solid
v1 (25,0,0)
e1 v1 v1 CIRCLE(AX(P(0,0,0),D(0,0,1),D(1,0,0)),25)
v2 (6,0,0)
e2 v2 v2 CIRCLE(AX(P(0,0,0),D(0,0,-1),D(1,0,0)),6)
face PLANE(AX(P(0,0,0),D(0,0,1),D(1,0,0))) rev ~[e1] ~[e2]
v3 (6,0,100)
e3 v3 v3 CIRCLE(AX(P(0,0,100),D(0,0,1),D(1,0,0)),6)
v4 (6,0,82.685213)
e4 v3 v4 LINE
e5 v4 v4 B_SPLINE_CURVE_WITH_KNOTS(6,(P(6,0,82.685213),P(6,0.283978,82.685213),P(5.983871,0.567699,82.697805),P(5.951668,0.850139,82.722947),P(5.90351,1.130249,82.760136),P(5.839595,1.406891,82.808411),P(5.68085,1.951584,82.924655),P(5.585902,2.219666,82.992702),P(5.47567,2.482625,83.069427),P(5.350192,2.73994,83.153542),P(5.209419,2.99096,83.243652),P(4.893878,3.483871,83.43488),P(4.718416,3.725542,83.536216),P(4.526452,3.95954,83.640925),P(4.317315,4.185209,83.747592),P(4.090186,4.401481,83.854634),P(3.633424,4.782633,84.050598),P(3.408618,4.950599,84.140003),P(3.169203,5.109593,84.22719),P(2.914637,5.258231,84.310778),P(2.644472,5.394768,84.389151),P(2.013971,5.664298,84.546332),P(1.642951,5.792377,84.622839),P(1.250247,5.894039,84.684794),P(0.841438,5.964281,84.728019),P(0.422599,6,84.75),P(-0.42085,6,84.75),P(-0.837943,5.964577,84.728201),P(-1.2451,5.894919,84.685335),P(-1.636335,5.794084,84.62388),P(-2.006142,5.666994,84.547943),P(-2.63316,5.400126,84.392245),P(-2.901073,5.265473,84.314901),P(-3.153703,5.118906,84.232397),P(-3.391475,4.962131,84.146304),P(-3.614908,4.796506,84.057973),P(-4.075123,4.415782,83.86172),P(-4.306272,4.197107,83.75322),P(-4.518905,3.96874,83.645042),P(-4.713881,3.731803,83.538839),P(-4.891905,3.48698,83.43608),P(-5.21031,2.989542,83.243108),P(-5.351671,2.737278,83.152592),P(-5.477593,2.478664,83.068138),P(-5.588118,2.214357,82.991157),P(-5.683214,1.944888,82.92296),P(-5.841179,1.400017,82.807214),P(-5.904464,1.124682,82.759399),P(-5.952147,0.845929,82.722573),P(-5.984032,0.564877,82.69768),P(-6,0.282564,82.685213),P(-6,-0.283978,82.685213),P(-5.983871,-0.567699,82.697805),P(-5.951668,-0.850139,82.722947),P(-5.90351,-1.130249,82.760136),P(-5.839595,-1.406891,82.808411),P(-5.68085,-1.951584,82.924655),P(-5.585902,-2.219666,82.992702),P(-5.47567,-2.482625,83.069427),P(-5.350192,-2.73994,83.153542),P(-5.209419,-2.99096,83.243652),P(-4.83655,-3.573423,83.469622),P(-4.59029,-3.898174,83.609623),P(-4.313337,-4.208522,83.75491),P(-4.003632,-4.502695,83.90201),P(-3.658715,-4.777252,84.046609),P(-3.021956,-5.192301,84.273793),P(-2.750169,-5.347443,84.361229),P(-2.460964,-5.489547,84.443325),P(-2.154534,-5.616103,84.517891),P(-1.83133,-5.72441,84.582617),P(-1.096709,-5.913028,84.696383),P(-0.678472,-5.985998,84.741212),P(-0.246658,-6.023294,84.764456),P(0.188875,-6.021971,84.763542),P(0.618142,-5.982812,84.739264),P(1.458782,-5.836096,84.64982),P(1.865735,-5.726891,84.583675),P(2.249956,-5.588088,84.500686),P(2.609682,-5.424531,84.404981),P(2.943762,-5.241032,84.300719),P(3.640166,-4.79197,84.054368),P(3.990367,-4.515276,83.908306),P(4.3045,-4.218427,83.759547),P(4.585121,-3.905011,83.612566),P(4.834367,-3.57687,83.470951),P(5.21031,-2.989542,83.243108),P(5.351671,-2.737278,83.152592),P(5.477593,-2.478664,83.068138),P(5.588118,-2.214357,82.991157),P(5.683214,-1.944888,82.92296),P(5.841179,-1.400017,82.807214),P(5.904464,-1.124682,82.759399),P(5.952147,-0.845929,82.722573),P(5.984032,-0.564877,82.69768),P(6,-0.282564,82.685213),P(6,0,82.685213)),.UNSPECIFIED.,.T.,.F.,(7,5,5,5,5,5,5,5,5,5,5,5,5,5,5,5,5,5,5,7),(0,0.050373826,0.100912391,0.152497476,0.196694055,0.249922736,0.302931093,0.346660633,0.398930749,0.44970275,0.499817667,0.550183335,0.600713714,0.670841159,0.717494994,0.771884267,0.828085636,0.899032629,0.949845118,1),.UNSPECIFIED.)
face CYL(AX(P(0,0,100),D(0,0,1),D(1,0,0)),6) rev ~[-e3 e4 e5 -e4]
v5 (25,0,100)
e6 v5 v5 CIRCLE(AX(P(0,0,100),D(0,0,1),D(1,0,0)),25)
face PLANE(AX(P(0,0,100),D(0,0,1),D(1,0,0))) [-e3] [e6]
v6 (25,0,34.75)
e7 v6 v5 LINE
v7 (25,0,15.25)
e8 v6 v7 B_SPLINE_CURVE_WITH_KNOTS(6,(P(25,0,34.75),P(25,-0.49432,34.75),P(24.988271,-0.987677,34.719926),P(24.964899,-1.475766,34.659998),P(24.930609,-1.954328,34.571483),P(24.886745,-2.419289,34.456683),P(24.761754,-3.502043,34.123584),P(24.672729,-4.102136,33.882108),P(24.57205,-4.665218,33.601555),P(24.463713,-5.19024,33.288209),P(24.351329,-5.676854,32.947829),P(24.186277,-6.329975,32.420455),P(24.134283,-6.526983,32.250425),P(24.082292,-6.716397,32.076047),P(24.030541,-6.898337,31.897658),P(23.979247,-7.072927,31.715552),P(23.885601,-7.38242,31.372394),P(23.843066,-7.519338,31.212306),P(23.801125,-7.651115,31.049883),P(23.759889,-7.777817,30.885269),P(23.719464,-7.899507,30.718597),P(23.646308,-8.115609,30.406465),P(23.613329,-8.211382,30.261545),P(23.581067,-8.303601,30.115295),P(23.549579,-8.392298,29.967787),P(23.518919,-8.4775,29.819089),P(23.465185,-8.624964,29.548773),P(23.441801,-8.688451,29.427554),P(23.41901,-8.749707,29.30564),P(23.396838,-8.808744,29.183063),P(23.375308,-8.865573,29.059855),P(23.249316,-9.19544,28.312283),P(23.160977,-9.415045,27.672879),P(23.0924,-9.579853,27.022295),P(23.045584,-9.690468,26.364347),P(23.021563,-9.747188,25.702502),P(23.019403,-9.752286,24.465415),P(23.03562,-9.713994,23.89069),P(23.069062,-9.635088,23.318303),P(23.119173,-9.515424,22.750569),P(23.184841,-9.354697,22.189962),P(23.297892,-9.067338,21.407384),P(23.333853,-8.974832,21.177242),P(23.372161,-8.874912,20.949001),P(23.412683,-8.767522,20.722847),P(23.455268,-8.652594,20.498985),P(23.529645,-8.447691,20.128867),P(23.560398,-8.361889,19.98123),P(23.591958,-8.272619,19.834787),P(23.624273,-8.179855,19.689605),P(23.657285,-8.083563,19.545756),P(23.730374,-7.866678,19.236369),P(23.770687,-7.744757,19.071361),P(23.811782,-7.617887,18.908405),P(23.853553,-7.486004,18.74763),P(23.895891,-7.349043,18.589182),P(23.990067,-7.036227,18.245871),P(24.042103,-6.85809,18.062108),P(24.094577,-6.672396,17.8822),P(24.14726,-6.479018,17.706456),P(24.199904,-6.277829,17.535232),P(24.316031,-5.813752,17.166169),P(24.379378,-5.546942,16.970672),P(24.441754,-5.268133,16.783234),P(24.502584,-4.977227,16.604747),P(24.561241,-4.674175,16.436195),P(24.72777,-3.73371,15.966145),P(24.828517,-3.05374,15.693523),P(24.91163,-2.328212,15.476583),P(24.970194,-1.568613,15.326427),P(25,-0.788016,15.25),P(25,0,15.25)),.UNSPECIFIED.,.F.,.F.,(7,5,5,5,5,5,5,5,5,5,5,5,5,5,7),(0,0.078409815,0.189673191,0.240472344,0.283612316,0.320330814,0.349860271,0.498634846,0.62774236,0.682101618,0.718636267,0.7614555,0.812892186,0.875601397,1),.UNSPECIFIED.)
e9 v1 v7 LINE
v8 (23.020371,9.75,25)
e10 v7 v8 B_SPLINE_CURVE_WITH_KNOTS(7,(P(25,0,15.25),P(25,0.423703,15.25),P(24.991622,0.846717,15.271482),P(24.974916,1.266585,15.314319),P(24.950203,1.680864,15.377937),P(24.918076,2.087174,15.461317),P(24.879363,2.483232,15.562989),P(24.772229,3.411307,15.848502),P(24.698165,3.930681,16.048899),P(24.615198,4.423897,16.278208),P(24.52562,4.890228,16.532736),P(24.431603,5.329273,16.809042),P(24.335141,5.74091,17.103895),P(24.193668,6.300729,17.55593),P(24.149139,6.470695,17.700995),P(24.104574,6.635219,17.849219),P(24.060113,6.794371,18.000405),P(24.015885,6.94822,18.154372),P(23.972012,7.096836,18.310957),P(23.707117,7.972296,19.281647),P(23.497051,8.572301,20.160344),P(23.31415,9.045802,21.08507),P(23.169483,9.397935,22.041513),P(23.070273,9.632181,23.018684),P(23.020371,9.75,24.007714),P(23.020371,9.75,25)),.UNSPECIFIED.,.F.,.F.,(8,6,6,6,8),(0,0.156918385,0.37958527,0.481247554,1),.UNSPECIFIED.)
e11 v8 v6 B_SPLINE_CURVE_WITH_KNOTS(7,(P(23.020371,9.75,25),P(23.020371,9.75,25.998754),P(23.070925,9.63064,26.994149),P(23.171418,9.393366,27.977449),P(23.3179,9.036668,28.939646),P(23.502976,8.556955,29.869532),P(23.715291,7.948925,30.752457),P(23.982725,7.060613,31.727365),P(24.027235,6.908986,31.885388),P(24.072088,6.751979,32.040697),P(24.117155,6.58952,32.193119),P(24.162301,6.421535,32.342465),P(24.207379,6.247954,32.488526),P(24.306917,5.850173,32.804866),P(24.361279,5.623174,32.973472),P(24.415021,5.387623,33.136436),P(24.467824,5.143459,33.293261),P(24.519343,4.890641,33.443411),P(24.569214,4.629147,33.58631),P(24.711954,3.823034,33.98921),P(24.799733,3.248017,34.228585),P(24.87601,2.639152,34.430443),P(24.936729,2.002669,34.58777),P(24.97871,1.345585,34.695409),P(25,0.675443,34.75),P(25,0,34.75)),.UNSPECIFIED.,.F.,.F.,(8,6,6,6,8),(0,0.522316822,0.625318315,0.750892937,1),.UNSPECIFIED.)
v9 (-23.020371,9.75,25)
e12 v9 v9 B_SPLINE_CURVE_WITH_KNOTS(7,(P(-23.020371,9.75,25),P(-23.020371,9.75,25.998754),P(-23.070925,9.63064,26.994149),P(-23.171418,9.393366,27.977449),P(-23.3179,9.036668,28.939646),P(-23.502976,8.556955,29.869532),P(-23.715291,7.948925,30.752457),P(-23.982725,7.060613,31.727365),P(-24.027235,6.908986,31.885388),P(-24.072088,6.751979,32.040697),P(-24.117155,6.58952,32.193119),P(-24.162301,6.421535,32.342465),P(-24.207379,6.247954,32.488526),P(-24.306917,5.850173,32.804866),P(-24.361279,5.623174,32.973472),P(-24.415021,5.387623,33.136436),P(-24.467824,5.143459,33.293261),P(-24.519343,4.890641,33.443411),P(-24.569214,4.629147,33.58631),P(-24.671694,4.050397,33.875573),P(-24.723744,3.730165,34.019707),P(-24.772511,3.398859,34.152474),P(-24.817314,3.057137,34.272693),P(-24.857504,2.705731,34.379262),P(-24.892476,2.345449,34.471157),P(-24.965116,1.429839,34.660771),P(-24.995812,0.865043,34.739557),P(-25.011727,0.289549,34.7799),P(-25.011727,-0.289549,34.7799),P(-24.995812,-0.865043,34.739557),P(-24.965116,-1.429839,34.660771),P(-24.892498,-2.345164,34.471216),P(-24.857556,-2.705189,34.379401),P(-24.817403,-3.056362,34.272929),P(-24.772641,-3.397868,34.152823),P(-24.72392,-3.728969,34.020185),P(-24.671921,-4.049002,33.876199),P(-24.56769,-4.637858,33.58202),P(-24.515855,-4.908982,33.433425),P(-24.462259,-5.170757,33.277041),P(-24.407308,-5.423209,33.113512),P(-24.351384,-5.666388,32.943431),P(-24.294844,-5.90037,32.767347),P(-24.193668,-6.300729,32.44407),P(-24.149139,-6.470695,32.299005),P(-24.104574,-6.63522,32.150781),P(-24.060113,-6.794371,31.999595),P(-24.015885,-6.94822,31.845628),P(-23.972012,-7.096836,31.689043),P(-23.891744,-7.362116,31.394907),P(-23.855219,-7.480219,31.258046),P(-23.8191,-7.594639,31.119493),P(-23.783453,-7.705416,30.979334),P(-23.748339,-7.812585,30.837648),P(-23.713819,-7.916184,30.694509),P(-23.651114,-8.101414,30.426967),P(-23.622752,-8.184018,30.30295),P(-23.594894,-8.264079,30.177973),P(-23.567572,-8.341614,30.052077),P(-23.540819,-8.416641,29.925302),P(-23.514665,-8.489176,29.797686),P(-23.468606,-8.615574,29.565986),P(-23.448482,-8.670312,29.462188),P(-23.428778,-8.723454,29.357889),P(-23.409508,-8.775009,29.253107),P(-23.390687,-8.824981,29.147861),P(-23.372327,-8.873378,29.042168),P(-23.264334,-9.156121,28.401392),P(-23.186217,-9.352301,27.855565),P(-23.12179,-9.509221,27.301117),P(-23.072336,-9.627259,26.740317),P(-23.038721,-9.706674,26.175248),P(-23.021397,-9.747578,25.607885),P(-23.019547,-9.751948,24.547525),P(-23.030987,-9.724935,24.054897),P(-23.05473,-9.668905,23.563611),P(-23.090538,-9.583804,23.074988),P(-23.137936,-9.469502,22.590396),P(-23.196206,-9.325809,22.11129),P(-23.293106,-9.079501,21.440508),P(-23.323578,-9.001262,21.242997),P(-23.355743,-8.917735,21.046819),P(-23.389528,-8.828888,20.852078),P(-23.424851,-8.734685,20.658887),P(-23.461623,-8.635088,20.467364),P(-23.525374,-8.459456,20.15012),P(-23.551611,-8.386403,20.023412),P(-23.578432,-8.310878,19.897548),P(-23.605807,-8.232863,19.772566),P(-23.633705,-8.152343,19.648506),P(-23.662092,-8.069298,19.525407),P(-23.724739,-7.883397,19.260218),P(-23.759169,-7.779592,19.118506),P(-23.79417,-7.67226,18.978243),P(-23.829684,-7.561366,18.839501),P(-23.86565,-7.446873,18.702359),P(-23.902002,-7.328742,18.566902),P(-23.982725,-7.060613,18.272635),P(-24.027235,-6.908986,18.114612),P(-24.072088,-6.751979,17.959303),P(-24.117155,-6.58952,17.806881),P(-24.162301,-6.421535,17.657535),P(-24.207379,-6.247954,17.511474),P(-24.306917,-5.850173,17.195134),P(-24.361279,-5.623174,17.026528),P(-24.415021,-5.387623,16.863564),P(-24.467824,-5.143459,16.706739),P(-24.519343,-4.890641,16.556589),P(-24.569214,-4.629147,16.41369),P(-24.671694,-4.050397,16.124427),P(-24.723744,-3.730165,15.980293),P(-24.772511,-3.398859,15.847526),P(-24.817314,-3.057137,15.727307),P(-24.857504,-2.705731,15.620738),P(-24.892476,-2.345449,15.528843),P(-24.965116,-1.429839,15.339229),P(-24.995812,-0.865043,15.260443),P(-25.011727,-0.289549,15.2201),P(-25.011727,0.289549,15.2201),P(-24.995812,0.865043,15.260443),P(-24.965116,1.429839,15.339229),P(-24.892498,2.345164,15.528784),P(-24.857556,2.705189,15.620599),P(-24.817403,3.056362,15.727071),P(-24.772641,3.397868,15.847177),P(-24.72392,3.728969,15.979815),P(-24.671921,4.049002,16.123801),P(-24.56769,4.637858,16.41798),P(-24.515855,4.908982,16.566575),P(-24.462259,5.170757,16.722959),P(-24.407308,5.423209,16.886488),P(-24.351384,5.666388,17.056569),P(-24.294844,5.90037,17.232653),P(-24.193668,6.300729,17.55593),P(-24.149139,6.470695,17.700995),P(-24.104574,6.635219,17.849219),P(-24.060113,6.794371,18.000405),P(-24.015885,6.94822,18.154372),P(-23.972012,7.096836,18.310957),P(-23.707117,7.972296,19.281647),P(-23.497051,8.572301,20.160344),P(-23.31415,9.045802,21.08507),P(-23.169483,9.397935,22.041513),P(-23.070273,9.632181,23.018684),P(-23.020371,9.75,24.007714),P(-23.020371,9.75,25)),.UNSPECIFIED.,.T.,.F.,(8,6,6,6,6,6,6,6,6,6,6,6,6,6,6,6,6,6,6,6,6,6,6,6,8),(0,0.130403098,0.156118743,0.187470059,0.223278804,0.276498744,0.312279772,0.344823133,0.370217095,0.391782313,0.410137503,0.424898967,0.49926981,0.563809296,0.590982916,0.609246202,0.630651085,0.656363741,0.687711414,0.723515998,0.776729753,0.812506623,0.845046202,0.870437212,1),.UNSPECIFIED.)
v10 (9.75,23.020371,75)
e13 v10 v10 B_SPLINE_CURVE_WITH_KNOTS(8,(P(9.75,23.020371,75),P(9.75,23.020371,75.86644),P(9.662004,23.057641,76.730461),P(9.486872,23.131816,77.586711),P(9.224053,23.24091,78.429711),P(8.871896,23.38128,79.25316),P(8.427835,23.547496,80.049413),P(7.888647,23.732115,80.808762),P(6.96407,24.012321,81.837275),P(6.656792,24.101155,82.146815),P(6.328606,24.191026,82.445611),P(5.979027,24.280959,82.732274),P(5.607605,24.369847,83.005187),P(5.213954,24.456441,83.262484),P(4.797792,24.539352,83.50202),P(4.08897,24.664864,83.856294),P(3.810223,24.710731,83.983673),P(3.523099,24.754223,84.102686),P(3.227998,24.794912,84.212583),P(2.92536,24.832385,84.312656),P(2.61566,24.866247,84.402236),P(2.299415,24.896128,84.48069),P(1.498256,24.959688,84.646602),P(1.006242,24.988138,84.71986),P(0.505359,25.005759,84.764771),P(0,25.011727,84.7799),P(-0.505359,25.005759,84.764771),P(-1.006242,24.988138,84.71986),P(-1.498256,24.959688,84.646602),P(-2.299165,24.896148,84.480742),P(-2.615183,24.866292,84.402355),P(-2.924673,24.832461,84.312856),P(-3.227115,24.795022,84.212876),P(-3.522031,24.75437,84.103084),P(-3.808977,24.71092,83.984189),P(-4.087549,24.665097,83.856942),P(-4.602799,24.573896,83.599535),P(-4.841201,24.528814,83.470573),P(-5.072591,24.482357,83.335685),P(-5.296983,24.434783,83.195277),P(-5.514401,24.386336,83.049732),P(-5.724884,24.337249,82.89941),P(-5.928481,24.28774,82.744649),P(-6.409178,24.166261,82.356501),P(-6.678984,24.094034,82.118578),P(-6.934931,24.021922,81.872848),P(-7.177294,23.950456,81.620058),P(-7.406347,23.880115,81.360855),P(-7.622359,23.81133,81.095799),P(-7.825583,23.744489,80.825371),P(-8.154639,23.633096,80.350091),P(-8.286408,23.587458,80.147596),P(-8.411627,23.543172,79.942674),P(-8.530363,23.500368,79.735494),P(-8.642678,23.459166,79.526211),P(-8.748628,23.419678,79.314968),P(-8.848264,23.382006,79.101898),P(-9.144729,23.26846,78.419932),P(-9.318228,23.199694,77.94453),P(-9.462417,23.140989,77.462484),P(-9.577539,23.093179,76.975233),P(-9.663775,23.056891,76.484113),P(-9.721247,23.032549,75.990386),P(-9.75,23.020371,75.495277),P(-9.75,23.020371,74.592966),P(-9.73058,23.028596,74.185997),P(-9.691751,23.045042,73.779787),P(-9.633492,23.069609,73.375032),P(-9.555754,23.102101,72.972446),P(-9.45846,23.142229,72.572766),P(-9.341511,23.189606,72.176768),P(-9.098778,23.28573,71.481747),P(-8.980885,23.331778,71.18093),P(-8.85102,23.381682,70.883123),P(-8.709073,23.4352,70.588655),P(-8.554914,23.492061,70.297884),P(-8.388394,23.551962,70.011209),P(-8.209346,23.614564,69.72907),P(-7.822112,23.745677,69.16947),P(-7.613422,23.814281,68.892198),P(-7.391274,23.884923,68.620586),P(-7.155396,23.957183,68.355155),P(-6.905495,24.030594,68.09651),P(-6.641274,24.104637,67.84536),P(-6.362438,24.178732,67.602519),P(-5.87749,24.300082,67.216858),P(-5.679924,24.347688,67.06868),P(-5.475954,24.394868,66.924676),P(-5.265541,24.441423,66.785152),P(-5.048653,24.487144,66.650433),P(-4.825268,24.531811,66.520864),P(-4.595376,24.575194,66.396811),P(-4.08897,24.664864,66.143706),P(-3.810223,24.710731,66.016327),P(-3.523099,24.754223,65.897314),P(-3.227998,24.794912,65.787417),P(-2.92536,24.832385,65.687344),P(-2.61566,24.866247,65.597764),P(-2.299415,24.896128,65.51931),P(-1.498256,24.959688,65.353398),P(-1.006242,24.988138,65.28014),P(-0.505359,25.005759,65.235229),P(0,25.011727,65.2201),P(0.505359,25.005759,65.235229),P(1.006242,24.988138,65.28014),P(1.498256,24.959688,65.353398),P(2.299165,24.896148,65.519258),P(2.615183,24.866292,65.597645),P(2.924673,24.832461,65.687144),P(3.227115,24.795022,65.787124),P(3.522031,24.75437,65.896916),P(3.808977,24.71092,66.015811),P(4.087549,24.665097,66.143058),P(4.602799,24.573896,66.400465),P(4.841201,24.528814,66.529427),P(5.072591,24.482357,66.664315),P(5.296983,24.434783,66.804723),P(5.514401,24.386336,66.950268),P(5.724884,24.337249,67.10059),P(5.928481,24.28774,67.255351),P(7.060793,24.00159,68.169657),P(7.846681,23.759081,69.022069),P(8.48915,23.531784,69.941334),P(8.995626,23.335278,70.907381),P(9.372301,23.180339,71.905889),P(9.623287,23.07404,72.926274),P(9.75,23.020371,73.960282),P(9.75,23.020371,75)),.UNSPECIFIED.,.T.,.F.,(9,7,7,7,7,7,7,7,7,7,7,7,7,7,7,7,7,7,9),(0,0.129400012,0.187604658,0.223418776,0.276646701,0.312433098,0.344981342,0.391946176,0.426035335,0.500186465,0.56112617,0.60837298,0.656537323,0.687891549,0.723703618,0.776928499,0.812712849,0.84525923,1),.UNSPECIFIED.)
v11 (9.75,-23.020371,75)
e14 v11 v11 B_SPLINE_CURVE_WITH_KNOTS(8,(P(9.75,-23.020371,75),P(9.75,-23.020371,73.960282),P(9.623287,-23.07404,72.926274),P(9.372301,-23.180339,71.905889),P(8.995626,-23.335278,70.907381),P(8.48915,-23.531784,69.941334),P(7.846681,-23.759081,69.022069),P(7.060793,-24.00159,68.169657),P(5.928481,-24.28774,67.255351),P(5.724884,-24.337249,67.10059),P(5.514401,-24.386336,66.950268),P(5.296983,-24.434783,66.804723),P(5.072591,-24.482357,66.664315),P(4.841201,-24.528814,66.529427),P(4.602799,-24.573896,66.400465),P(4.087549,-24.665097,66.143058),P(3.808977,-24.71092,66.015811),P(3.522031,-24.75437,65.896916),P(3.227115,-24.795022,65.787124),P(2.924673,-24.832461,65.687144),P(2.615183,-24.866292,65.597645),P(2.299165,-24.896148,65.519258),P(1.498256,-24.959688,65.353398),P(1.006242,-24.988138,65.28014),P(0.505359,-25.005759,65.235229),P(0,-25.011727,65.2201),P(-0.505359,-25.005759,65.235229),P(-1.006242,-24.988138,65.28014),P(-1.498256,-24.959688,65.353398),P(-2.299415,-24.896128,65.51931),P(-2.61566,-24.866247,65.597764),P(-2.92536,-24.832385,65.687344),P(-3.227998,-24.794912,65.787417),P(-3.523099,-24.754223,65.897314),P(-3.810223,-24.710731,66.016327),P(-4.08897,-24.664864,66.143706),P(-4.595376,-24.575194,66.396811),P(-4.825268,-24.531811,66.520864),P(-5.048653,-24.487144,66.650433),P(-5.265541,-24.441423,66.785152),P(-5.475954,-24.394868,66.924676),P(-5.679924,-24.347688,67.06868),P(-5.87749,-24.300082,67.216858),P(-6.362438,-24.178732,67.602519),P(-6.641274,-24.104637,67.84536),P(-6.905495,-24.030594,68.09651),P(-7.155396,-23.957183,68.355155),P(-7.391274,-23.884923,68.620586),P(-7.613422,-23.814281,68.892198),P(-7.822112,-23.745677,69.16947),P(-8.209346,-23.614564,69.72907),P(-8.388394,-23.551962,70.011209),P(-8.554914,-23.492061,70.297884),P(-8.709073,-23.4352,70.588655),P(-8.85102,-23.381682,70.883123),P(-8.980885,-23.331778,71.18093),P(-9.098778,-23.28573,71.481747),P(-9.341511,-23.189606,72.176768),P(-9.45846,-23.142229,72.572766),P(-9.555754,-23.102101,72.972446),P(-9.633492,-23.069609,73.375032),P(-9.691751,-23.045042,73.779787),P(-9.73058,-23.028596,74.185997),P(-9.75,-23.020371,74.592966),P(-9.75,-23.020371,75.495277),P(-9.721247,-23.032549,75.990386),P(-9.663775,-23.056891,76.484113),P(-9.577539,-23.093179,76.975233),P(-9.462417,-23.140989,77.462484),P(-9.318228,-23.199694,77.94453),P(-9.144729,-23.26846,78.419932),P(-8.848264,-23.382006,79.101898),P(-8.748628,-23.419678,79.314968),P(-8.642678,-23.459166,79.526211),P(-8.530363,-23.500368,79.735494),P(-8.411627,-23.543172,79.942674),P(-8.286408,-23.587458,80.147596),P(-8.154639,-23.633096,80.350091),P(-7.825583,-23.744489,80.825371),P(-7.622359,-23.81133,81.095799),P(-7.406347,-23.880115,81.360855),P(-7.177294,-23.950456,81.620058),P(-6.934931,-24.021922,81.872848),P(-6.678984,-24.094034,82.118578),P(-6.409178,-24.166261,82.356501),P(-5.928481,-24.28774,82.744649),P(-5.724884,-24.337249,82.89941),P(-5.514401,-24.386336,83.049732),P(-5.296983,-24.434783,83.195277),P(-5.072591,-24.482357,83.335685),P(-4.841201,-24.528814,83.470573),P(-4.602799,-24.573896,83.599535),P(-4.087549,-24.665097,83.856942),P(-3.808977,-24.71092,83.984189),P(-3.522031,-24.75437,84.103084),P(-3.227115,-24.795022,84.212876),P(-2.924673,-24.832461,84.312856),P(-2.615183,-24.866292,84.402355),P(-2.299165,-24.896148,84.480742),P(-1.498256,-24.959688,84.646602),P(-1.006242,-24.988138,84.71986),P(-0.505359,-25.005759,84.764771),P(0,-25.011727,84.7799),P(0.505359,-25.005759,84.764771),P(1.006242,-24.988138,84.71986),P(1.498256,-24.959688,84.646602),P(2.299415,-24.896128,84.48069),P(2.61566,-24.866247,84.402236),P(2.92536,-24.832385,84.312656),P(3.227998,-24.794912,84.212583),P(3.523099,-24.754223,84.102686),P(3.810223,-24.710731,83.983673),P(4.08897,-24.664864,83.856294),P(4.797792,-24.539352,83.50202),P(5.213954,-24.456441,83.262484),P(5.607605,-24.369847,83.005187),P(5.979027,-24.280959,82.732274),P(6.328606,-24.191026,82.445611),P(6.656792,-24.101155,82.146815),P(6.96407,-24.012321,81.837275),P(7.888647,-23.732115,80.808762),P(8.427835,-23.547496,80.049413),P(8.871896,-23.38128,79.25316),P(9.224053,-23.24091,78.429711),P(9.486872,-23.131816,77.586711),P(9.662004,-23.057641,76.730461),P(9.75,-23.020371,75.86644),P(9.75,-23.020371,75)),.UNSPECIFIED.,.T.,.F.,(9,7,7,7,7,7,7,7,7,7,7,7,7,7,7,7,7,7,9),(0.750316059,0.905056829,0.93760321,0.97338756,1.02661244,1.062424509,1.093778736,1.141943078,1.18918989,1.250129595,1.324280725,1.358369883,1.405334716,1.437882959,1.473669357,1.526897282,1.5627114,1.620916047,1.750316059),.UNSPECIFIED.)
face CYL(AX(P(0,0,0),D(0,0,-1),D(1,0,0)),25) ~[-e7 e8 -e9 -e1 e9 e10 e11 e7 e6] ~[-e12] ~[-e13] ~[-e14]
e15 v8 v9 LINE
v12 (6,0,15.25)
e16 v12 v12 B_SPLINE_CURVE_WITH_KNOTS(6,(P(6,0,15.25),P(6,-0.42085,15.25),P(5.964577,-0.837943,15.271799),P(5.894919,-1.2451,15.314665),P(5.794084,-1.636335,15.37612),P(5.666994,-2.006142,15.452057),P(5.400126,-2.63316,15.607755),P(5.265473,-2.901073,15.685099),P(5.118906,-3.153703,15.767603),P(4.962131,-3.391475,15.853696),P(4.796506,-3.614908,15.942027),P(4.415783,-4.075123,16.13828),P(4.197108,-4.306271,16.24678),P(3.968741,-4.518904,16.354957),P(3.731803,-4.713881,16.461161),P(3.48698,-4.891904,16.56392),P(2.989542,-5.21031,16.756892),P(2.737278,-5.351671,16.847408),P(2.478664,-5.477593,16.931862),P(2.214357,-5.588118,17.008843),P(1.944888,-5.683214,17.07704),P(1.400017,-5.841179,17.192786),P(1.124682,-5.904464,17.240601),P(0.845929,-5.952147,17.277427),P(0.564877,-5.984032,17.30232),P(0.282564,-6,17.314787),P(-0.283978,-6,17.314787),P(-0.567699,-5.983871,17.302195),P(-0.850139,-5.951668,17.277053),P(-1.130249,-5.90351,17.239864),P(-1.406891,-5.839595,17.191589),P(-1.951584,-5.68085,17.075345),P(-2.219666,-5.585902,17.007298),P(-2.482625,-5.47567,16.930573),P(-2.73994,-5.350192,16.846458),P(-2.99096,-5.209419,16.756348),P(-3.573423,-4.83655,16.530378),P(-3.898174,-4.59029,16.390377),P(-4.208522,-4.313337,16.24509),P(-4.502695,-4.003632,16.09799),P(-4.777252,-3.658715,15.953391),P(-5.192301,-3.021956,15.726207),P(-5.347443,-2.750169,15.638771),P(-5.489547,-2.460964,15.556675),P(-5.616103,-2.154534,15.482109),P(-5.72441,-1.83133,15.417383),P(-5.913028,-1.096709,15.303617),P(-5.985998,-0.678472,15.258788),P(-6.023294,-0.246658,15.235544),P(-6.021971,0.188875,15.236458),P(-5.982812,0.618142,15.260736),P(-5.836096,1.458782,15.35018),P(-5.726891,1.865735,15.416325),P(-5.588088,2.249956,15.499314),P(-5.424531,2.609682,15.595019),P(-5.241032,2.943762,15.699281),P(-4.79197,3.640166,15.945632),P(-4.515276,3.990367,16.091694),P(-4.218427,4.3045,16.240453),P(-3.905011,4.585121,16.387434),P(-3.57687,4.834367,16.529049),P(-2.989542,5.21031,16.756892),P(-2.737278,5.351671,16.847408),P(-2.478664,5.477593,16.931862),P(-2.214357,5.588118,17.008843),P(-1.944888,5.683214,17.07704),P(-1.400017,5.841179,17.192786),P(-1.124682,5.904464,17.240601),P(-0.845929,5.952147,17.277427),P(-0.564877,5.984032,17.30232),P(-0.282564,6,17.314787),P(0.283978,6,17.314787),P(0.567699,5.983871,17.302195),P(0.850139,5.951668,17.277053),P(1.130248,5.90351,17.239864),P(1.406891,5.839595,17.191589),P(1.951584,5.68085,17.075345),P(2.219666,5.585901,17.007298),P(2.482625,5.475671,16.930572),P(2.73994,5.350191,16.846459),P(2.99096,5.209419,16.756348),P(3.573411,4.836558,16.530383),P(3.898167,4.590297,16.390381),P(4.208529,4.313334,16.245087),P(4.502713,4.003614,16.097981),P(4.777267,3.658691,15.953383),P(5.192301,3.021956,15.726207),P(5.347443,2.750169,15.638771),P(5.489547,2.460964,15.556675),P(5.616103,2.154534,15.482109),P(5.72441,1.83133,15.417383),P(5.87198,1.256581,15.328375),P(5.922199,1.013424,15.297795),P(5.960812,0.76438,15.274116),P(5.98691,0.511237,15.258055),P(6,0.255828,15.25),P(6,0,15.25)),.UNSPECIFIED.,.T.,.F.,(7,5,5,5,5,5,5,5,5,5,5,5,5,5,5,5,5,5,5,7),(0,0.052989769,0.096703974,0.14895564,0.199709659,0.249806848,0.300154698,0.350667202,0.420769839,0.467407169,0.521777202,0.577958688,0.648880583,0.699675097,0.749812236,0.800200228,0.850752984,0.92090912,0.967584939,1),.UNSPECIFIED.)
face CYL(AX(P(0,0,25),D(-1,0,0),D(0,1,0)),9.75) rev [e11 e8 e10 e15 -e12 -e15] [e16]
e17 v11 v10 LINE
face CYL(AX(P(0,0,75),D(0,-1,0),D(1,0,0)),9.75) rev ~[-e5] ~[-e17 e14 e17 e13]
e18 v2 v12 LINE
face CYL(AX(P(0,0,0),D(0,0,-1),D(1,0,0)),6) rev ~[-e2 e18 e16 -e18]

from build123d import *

# Parameters (mm, degrees)
F0_R          = 25
F1_DEPTH      = 100
F2_R          = 9.75
F3_DEPTH      = 25.001
F3_DEPTH_BACK = 25
F4_R          = 9.75
F5_DEPTH      = 25.0010001
F5_DEPTH_BACK = 25
F6_R          = 6
F7_DEPTH      = 25
F8_R          = 6
F9_DEPTH      = 25


with BuildPart() as f1:
    # F0 (on Top) → F1 (new body)
    with BuildSketch(Plane.XY):
        Circle(F0_R)
    extrude(amount=F1_DEPTH)

    # F2 (on Right) → F3 (cut, two sides)
    with BuildSketch(Plane.YZ) as f3_sk:
        with Locations((0, 25)):
            Circle(F2_R)
    extrude(amount=F3_DEPTH, mode=Mode.SUBTRACT)
    extrude(f3_sk.sketch, amount=-F3_DEPTH_BACK, mode=Mode.SUBTRACT)

    # F4 (on Front) → F5 (cut, two sides)
    with BuildSketch(Plane.XZ) as f5_sk:
        with Locations((0, 75)):
            Circle(F4_R)
    extrude(amount=-F5_DEPTH, mode=Mode.SUBTRACT)
    extrude(f5_sk.sketch, amount=F5_DEPTH_BACK, mode=Mode.SUBTRACT)

    # F6 (on face) → F7 (cut)
    with BuildSketch(Plane.XY.offset(100)):
        Circle(F6_R)
    extrude(amount=-F7_DEPTH, mode=Mode.SUBTRACT)

    # F8 (on face) → F9 (cut)
    with BuildSketch(Plane(origin=(0, 0, 0), x_dir=(1, 0, 0), z_dir=(0, 0, -1))):
        Circle(F8_R)
    extrude(amount=-F9_DEPTH, mode=Mode.SUBTRACT)


solid = f1.part
